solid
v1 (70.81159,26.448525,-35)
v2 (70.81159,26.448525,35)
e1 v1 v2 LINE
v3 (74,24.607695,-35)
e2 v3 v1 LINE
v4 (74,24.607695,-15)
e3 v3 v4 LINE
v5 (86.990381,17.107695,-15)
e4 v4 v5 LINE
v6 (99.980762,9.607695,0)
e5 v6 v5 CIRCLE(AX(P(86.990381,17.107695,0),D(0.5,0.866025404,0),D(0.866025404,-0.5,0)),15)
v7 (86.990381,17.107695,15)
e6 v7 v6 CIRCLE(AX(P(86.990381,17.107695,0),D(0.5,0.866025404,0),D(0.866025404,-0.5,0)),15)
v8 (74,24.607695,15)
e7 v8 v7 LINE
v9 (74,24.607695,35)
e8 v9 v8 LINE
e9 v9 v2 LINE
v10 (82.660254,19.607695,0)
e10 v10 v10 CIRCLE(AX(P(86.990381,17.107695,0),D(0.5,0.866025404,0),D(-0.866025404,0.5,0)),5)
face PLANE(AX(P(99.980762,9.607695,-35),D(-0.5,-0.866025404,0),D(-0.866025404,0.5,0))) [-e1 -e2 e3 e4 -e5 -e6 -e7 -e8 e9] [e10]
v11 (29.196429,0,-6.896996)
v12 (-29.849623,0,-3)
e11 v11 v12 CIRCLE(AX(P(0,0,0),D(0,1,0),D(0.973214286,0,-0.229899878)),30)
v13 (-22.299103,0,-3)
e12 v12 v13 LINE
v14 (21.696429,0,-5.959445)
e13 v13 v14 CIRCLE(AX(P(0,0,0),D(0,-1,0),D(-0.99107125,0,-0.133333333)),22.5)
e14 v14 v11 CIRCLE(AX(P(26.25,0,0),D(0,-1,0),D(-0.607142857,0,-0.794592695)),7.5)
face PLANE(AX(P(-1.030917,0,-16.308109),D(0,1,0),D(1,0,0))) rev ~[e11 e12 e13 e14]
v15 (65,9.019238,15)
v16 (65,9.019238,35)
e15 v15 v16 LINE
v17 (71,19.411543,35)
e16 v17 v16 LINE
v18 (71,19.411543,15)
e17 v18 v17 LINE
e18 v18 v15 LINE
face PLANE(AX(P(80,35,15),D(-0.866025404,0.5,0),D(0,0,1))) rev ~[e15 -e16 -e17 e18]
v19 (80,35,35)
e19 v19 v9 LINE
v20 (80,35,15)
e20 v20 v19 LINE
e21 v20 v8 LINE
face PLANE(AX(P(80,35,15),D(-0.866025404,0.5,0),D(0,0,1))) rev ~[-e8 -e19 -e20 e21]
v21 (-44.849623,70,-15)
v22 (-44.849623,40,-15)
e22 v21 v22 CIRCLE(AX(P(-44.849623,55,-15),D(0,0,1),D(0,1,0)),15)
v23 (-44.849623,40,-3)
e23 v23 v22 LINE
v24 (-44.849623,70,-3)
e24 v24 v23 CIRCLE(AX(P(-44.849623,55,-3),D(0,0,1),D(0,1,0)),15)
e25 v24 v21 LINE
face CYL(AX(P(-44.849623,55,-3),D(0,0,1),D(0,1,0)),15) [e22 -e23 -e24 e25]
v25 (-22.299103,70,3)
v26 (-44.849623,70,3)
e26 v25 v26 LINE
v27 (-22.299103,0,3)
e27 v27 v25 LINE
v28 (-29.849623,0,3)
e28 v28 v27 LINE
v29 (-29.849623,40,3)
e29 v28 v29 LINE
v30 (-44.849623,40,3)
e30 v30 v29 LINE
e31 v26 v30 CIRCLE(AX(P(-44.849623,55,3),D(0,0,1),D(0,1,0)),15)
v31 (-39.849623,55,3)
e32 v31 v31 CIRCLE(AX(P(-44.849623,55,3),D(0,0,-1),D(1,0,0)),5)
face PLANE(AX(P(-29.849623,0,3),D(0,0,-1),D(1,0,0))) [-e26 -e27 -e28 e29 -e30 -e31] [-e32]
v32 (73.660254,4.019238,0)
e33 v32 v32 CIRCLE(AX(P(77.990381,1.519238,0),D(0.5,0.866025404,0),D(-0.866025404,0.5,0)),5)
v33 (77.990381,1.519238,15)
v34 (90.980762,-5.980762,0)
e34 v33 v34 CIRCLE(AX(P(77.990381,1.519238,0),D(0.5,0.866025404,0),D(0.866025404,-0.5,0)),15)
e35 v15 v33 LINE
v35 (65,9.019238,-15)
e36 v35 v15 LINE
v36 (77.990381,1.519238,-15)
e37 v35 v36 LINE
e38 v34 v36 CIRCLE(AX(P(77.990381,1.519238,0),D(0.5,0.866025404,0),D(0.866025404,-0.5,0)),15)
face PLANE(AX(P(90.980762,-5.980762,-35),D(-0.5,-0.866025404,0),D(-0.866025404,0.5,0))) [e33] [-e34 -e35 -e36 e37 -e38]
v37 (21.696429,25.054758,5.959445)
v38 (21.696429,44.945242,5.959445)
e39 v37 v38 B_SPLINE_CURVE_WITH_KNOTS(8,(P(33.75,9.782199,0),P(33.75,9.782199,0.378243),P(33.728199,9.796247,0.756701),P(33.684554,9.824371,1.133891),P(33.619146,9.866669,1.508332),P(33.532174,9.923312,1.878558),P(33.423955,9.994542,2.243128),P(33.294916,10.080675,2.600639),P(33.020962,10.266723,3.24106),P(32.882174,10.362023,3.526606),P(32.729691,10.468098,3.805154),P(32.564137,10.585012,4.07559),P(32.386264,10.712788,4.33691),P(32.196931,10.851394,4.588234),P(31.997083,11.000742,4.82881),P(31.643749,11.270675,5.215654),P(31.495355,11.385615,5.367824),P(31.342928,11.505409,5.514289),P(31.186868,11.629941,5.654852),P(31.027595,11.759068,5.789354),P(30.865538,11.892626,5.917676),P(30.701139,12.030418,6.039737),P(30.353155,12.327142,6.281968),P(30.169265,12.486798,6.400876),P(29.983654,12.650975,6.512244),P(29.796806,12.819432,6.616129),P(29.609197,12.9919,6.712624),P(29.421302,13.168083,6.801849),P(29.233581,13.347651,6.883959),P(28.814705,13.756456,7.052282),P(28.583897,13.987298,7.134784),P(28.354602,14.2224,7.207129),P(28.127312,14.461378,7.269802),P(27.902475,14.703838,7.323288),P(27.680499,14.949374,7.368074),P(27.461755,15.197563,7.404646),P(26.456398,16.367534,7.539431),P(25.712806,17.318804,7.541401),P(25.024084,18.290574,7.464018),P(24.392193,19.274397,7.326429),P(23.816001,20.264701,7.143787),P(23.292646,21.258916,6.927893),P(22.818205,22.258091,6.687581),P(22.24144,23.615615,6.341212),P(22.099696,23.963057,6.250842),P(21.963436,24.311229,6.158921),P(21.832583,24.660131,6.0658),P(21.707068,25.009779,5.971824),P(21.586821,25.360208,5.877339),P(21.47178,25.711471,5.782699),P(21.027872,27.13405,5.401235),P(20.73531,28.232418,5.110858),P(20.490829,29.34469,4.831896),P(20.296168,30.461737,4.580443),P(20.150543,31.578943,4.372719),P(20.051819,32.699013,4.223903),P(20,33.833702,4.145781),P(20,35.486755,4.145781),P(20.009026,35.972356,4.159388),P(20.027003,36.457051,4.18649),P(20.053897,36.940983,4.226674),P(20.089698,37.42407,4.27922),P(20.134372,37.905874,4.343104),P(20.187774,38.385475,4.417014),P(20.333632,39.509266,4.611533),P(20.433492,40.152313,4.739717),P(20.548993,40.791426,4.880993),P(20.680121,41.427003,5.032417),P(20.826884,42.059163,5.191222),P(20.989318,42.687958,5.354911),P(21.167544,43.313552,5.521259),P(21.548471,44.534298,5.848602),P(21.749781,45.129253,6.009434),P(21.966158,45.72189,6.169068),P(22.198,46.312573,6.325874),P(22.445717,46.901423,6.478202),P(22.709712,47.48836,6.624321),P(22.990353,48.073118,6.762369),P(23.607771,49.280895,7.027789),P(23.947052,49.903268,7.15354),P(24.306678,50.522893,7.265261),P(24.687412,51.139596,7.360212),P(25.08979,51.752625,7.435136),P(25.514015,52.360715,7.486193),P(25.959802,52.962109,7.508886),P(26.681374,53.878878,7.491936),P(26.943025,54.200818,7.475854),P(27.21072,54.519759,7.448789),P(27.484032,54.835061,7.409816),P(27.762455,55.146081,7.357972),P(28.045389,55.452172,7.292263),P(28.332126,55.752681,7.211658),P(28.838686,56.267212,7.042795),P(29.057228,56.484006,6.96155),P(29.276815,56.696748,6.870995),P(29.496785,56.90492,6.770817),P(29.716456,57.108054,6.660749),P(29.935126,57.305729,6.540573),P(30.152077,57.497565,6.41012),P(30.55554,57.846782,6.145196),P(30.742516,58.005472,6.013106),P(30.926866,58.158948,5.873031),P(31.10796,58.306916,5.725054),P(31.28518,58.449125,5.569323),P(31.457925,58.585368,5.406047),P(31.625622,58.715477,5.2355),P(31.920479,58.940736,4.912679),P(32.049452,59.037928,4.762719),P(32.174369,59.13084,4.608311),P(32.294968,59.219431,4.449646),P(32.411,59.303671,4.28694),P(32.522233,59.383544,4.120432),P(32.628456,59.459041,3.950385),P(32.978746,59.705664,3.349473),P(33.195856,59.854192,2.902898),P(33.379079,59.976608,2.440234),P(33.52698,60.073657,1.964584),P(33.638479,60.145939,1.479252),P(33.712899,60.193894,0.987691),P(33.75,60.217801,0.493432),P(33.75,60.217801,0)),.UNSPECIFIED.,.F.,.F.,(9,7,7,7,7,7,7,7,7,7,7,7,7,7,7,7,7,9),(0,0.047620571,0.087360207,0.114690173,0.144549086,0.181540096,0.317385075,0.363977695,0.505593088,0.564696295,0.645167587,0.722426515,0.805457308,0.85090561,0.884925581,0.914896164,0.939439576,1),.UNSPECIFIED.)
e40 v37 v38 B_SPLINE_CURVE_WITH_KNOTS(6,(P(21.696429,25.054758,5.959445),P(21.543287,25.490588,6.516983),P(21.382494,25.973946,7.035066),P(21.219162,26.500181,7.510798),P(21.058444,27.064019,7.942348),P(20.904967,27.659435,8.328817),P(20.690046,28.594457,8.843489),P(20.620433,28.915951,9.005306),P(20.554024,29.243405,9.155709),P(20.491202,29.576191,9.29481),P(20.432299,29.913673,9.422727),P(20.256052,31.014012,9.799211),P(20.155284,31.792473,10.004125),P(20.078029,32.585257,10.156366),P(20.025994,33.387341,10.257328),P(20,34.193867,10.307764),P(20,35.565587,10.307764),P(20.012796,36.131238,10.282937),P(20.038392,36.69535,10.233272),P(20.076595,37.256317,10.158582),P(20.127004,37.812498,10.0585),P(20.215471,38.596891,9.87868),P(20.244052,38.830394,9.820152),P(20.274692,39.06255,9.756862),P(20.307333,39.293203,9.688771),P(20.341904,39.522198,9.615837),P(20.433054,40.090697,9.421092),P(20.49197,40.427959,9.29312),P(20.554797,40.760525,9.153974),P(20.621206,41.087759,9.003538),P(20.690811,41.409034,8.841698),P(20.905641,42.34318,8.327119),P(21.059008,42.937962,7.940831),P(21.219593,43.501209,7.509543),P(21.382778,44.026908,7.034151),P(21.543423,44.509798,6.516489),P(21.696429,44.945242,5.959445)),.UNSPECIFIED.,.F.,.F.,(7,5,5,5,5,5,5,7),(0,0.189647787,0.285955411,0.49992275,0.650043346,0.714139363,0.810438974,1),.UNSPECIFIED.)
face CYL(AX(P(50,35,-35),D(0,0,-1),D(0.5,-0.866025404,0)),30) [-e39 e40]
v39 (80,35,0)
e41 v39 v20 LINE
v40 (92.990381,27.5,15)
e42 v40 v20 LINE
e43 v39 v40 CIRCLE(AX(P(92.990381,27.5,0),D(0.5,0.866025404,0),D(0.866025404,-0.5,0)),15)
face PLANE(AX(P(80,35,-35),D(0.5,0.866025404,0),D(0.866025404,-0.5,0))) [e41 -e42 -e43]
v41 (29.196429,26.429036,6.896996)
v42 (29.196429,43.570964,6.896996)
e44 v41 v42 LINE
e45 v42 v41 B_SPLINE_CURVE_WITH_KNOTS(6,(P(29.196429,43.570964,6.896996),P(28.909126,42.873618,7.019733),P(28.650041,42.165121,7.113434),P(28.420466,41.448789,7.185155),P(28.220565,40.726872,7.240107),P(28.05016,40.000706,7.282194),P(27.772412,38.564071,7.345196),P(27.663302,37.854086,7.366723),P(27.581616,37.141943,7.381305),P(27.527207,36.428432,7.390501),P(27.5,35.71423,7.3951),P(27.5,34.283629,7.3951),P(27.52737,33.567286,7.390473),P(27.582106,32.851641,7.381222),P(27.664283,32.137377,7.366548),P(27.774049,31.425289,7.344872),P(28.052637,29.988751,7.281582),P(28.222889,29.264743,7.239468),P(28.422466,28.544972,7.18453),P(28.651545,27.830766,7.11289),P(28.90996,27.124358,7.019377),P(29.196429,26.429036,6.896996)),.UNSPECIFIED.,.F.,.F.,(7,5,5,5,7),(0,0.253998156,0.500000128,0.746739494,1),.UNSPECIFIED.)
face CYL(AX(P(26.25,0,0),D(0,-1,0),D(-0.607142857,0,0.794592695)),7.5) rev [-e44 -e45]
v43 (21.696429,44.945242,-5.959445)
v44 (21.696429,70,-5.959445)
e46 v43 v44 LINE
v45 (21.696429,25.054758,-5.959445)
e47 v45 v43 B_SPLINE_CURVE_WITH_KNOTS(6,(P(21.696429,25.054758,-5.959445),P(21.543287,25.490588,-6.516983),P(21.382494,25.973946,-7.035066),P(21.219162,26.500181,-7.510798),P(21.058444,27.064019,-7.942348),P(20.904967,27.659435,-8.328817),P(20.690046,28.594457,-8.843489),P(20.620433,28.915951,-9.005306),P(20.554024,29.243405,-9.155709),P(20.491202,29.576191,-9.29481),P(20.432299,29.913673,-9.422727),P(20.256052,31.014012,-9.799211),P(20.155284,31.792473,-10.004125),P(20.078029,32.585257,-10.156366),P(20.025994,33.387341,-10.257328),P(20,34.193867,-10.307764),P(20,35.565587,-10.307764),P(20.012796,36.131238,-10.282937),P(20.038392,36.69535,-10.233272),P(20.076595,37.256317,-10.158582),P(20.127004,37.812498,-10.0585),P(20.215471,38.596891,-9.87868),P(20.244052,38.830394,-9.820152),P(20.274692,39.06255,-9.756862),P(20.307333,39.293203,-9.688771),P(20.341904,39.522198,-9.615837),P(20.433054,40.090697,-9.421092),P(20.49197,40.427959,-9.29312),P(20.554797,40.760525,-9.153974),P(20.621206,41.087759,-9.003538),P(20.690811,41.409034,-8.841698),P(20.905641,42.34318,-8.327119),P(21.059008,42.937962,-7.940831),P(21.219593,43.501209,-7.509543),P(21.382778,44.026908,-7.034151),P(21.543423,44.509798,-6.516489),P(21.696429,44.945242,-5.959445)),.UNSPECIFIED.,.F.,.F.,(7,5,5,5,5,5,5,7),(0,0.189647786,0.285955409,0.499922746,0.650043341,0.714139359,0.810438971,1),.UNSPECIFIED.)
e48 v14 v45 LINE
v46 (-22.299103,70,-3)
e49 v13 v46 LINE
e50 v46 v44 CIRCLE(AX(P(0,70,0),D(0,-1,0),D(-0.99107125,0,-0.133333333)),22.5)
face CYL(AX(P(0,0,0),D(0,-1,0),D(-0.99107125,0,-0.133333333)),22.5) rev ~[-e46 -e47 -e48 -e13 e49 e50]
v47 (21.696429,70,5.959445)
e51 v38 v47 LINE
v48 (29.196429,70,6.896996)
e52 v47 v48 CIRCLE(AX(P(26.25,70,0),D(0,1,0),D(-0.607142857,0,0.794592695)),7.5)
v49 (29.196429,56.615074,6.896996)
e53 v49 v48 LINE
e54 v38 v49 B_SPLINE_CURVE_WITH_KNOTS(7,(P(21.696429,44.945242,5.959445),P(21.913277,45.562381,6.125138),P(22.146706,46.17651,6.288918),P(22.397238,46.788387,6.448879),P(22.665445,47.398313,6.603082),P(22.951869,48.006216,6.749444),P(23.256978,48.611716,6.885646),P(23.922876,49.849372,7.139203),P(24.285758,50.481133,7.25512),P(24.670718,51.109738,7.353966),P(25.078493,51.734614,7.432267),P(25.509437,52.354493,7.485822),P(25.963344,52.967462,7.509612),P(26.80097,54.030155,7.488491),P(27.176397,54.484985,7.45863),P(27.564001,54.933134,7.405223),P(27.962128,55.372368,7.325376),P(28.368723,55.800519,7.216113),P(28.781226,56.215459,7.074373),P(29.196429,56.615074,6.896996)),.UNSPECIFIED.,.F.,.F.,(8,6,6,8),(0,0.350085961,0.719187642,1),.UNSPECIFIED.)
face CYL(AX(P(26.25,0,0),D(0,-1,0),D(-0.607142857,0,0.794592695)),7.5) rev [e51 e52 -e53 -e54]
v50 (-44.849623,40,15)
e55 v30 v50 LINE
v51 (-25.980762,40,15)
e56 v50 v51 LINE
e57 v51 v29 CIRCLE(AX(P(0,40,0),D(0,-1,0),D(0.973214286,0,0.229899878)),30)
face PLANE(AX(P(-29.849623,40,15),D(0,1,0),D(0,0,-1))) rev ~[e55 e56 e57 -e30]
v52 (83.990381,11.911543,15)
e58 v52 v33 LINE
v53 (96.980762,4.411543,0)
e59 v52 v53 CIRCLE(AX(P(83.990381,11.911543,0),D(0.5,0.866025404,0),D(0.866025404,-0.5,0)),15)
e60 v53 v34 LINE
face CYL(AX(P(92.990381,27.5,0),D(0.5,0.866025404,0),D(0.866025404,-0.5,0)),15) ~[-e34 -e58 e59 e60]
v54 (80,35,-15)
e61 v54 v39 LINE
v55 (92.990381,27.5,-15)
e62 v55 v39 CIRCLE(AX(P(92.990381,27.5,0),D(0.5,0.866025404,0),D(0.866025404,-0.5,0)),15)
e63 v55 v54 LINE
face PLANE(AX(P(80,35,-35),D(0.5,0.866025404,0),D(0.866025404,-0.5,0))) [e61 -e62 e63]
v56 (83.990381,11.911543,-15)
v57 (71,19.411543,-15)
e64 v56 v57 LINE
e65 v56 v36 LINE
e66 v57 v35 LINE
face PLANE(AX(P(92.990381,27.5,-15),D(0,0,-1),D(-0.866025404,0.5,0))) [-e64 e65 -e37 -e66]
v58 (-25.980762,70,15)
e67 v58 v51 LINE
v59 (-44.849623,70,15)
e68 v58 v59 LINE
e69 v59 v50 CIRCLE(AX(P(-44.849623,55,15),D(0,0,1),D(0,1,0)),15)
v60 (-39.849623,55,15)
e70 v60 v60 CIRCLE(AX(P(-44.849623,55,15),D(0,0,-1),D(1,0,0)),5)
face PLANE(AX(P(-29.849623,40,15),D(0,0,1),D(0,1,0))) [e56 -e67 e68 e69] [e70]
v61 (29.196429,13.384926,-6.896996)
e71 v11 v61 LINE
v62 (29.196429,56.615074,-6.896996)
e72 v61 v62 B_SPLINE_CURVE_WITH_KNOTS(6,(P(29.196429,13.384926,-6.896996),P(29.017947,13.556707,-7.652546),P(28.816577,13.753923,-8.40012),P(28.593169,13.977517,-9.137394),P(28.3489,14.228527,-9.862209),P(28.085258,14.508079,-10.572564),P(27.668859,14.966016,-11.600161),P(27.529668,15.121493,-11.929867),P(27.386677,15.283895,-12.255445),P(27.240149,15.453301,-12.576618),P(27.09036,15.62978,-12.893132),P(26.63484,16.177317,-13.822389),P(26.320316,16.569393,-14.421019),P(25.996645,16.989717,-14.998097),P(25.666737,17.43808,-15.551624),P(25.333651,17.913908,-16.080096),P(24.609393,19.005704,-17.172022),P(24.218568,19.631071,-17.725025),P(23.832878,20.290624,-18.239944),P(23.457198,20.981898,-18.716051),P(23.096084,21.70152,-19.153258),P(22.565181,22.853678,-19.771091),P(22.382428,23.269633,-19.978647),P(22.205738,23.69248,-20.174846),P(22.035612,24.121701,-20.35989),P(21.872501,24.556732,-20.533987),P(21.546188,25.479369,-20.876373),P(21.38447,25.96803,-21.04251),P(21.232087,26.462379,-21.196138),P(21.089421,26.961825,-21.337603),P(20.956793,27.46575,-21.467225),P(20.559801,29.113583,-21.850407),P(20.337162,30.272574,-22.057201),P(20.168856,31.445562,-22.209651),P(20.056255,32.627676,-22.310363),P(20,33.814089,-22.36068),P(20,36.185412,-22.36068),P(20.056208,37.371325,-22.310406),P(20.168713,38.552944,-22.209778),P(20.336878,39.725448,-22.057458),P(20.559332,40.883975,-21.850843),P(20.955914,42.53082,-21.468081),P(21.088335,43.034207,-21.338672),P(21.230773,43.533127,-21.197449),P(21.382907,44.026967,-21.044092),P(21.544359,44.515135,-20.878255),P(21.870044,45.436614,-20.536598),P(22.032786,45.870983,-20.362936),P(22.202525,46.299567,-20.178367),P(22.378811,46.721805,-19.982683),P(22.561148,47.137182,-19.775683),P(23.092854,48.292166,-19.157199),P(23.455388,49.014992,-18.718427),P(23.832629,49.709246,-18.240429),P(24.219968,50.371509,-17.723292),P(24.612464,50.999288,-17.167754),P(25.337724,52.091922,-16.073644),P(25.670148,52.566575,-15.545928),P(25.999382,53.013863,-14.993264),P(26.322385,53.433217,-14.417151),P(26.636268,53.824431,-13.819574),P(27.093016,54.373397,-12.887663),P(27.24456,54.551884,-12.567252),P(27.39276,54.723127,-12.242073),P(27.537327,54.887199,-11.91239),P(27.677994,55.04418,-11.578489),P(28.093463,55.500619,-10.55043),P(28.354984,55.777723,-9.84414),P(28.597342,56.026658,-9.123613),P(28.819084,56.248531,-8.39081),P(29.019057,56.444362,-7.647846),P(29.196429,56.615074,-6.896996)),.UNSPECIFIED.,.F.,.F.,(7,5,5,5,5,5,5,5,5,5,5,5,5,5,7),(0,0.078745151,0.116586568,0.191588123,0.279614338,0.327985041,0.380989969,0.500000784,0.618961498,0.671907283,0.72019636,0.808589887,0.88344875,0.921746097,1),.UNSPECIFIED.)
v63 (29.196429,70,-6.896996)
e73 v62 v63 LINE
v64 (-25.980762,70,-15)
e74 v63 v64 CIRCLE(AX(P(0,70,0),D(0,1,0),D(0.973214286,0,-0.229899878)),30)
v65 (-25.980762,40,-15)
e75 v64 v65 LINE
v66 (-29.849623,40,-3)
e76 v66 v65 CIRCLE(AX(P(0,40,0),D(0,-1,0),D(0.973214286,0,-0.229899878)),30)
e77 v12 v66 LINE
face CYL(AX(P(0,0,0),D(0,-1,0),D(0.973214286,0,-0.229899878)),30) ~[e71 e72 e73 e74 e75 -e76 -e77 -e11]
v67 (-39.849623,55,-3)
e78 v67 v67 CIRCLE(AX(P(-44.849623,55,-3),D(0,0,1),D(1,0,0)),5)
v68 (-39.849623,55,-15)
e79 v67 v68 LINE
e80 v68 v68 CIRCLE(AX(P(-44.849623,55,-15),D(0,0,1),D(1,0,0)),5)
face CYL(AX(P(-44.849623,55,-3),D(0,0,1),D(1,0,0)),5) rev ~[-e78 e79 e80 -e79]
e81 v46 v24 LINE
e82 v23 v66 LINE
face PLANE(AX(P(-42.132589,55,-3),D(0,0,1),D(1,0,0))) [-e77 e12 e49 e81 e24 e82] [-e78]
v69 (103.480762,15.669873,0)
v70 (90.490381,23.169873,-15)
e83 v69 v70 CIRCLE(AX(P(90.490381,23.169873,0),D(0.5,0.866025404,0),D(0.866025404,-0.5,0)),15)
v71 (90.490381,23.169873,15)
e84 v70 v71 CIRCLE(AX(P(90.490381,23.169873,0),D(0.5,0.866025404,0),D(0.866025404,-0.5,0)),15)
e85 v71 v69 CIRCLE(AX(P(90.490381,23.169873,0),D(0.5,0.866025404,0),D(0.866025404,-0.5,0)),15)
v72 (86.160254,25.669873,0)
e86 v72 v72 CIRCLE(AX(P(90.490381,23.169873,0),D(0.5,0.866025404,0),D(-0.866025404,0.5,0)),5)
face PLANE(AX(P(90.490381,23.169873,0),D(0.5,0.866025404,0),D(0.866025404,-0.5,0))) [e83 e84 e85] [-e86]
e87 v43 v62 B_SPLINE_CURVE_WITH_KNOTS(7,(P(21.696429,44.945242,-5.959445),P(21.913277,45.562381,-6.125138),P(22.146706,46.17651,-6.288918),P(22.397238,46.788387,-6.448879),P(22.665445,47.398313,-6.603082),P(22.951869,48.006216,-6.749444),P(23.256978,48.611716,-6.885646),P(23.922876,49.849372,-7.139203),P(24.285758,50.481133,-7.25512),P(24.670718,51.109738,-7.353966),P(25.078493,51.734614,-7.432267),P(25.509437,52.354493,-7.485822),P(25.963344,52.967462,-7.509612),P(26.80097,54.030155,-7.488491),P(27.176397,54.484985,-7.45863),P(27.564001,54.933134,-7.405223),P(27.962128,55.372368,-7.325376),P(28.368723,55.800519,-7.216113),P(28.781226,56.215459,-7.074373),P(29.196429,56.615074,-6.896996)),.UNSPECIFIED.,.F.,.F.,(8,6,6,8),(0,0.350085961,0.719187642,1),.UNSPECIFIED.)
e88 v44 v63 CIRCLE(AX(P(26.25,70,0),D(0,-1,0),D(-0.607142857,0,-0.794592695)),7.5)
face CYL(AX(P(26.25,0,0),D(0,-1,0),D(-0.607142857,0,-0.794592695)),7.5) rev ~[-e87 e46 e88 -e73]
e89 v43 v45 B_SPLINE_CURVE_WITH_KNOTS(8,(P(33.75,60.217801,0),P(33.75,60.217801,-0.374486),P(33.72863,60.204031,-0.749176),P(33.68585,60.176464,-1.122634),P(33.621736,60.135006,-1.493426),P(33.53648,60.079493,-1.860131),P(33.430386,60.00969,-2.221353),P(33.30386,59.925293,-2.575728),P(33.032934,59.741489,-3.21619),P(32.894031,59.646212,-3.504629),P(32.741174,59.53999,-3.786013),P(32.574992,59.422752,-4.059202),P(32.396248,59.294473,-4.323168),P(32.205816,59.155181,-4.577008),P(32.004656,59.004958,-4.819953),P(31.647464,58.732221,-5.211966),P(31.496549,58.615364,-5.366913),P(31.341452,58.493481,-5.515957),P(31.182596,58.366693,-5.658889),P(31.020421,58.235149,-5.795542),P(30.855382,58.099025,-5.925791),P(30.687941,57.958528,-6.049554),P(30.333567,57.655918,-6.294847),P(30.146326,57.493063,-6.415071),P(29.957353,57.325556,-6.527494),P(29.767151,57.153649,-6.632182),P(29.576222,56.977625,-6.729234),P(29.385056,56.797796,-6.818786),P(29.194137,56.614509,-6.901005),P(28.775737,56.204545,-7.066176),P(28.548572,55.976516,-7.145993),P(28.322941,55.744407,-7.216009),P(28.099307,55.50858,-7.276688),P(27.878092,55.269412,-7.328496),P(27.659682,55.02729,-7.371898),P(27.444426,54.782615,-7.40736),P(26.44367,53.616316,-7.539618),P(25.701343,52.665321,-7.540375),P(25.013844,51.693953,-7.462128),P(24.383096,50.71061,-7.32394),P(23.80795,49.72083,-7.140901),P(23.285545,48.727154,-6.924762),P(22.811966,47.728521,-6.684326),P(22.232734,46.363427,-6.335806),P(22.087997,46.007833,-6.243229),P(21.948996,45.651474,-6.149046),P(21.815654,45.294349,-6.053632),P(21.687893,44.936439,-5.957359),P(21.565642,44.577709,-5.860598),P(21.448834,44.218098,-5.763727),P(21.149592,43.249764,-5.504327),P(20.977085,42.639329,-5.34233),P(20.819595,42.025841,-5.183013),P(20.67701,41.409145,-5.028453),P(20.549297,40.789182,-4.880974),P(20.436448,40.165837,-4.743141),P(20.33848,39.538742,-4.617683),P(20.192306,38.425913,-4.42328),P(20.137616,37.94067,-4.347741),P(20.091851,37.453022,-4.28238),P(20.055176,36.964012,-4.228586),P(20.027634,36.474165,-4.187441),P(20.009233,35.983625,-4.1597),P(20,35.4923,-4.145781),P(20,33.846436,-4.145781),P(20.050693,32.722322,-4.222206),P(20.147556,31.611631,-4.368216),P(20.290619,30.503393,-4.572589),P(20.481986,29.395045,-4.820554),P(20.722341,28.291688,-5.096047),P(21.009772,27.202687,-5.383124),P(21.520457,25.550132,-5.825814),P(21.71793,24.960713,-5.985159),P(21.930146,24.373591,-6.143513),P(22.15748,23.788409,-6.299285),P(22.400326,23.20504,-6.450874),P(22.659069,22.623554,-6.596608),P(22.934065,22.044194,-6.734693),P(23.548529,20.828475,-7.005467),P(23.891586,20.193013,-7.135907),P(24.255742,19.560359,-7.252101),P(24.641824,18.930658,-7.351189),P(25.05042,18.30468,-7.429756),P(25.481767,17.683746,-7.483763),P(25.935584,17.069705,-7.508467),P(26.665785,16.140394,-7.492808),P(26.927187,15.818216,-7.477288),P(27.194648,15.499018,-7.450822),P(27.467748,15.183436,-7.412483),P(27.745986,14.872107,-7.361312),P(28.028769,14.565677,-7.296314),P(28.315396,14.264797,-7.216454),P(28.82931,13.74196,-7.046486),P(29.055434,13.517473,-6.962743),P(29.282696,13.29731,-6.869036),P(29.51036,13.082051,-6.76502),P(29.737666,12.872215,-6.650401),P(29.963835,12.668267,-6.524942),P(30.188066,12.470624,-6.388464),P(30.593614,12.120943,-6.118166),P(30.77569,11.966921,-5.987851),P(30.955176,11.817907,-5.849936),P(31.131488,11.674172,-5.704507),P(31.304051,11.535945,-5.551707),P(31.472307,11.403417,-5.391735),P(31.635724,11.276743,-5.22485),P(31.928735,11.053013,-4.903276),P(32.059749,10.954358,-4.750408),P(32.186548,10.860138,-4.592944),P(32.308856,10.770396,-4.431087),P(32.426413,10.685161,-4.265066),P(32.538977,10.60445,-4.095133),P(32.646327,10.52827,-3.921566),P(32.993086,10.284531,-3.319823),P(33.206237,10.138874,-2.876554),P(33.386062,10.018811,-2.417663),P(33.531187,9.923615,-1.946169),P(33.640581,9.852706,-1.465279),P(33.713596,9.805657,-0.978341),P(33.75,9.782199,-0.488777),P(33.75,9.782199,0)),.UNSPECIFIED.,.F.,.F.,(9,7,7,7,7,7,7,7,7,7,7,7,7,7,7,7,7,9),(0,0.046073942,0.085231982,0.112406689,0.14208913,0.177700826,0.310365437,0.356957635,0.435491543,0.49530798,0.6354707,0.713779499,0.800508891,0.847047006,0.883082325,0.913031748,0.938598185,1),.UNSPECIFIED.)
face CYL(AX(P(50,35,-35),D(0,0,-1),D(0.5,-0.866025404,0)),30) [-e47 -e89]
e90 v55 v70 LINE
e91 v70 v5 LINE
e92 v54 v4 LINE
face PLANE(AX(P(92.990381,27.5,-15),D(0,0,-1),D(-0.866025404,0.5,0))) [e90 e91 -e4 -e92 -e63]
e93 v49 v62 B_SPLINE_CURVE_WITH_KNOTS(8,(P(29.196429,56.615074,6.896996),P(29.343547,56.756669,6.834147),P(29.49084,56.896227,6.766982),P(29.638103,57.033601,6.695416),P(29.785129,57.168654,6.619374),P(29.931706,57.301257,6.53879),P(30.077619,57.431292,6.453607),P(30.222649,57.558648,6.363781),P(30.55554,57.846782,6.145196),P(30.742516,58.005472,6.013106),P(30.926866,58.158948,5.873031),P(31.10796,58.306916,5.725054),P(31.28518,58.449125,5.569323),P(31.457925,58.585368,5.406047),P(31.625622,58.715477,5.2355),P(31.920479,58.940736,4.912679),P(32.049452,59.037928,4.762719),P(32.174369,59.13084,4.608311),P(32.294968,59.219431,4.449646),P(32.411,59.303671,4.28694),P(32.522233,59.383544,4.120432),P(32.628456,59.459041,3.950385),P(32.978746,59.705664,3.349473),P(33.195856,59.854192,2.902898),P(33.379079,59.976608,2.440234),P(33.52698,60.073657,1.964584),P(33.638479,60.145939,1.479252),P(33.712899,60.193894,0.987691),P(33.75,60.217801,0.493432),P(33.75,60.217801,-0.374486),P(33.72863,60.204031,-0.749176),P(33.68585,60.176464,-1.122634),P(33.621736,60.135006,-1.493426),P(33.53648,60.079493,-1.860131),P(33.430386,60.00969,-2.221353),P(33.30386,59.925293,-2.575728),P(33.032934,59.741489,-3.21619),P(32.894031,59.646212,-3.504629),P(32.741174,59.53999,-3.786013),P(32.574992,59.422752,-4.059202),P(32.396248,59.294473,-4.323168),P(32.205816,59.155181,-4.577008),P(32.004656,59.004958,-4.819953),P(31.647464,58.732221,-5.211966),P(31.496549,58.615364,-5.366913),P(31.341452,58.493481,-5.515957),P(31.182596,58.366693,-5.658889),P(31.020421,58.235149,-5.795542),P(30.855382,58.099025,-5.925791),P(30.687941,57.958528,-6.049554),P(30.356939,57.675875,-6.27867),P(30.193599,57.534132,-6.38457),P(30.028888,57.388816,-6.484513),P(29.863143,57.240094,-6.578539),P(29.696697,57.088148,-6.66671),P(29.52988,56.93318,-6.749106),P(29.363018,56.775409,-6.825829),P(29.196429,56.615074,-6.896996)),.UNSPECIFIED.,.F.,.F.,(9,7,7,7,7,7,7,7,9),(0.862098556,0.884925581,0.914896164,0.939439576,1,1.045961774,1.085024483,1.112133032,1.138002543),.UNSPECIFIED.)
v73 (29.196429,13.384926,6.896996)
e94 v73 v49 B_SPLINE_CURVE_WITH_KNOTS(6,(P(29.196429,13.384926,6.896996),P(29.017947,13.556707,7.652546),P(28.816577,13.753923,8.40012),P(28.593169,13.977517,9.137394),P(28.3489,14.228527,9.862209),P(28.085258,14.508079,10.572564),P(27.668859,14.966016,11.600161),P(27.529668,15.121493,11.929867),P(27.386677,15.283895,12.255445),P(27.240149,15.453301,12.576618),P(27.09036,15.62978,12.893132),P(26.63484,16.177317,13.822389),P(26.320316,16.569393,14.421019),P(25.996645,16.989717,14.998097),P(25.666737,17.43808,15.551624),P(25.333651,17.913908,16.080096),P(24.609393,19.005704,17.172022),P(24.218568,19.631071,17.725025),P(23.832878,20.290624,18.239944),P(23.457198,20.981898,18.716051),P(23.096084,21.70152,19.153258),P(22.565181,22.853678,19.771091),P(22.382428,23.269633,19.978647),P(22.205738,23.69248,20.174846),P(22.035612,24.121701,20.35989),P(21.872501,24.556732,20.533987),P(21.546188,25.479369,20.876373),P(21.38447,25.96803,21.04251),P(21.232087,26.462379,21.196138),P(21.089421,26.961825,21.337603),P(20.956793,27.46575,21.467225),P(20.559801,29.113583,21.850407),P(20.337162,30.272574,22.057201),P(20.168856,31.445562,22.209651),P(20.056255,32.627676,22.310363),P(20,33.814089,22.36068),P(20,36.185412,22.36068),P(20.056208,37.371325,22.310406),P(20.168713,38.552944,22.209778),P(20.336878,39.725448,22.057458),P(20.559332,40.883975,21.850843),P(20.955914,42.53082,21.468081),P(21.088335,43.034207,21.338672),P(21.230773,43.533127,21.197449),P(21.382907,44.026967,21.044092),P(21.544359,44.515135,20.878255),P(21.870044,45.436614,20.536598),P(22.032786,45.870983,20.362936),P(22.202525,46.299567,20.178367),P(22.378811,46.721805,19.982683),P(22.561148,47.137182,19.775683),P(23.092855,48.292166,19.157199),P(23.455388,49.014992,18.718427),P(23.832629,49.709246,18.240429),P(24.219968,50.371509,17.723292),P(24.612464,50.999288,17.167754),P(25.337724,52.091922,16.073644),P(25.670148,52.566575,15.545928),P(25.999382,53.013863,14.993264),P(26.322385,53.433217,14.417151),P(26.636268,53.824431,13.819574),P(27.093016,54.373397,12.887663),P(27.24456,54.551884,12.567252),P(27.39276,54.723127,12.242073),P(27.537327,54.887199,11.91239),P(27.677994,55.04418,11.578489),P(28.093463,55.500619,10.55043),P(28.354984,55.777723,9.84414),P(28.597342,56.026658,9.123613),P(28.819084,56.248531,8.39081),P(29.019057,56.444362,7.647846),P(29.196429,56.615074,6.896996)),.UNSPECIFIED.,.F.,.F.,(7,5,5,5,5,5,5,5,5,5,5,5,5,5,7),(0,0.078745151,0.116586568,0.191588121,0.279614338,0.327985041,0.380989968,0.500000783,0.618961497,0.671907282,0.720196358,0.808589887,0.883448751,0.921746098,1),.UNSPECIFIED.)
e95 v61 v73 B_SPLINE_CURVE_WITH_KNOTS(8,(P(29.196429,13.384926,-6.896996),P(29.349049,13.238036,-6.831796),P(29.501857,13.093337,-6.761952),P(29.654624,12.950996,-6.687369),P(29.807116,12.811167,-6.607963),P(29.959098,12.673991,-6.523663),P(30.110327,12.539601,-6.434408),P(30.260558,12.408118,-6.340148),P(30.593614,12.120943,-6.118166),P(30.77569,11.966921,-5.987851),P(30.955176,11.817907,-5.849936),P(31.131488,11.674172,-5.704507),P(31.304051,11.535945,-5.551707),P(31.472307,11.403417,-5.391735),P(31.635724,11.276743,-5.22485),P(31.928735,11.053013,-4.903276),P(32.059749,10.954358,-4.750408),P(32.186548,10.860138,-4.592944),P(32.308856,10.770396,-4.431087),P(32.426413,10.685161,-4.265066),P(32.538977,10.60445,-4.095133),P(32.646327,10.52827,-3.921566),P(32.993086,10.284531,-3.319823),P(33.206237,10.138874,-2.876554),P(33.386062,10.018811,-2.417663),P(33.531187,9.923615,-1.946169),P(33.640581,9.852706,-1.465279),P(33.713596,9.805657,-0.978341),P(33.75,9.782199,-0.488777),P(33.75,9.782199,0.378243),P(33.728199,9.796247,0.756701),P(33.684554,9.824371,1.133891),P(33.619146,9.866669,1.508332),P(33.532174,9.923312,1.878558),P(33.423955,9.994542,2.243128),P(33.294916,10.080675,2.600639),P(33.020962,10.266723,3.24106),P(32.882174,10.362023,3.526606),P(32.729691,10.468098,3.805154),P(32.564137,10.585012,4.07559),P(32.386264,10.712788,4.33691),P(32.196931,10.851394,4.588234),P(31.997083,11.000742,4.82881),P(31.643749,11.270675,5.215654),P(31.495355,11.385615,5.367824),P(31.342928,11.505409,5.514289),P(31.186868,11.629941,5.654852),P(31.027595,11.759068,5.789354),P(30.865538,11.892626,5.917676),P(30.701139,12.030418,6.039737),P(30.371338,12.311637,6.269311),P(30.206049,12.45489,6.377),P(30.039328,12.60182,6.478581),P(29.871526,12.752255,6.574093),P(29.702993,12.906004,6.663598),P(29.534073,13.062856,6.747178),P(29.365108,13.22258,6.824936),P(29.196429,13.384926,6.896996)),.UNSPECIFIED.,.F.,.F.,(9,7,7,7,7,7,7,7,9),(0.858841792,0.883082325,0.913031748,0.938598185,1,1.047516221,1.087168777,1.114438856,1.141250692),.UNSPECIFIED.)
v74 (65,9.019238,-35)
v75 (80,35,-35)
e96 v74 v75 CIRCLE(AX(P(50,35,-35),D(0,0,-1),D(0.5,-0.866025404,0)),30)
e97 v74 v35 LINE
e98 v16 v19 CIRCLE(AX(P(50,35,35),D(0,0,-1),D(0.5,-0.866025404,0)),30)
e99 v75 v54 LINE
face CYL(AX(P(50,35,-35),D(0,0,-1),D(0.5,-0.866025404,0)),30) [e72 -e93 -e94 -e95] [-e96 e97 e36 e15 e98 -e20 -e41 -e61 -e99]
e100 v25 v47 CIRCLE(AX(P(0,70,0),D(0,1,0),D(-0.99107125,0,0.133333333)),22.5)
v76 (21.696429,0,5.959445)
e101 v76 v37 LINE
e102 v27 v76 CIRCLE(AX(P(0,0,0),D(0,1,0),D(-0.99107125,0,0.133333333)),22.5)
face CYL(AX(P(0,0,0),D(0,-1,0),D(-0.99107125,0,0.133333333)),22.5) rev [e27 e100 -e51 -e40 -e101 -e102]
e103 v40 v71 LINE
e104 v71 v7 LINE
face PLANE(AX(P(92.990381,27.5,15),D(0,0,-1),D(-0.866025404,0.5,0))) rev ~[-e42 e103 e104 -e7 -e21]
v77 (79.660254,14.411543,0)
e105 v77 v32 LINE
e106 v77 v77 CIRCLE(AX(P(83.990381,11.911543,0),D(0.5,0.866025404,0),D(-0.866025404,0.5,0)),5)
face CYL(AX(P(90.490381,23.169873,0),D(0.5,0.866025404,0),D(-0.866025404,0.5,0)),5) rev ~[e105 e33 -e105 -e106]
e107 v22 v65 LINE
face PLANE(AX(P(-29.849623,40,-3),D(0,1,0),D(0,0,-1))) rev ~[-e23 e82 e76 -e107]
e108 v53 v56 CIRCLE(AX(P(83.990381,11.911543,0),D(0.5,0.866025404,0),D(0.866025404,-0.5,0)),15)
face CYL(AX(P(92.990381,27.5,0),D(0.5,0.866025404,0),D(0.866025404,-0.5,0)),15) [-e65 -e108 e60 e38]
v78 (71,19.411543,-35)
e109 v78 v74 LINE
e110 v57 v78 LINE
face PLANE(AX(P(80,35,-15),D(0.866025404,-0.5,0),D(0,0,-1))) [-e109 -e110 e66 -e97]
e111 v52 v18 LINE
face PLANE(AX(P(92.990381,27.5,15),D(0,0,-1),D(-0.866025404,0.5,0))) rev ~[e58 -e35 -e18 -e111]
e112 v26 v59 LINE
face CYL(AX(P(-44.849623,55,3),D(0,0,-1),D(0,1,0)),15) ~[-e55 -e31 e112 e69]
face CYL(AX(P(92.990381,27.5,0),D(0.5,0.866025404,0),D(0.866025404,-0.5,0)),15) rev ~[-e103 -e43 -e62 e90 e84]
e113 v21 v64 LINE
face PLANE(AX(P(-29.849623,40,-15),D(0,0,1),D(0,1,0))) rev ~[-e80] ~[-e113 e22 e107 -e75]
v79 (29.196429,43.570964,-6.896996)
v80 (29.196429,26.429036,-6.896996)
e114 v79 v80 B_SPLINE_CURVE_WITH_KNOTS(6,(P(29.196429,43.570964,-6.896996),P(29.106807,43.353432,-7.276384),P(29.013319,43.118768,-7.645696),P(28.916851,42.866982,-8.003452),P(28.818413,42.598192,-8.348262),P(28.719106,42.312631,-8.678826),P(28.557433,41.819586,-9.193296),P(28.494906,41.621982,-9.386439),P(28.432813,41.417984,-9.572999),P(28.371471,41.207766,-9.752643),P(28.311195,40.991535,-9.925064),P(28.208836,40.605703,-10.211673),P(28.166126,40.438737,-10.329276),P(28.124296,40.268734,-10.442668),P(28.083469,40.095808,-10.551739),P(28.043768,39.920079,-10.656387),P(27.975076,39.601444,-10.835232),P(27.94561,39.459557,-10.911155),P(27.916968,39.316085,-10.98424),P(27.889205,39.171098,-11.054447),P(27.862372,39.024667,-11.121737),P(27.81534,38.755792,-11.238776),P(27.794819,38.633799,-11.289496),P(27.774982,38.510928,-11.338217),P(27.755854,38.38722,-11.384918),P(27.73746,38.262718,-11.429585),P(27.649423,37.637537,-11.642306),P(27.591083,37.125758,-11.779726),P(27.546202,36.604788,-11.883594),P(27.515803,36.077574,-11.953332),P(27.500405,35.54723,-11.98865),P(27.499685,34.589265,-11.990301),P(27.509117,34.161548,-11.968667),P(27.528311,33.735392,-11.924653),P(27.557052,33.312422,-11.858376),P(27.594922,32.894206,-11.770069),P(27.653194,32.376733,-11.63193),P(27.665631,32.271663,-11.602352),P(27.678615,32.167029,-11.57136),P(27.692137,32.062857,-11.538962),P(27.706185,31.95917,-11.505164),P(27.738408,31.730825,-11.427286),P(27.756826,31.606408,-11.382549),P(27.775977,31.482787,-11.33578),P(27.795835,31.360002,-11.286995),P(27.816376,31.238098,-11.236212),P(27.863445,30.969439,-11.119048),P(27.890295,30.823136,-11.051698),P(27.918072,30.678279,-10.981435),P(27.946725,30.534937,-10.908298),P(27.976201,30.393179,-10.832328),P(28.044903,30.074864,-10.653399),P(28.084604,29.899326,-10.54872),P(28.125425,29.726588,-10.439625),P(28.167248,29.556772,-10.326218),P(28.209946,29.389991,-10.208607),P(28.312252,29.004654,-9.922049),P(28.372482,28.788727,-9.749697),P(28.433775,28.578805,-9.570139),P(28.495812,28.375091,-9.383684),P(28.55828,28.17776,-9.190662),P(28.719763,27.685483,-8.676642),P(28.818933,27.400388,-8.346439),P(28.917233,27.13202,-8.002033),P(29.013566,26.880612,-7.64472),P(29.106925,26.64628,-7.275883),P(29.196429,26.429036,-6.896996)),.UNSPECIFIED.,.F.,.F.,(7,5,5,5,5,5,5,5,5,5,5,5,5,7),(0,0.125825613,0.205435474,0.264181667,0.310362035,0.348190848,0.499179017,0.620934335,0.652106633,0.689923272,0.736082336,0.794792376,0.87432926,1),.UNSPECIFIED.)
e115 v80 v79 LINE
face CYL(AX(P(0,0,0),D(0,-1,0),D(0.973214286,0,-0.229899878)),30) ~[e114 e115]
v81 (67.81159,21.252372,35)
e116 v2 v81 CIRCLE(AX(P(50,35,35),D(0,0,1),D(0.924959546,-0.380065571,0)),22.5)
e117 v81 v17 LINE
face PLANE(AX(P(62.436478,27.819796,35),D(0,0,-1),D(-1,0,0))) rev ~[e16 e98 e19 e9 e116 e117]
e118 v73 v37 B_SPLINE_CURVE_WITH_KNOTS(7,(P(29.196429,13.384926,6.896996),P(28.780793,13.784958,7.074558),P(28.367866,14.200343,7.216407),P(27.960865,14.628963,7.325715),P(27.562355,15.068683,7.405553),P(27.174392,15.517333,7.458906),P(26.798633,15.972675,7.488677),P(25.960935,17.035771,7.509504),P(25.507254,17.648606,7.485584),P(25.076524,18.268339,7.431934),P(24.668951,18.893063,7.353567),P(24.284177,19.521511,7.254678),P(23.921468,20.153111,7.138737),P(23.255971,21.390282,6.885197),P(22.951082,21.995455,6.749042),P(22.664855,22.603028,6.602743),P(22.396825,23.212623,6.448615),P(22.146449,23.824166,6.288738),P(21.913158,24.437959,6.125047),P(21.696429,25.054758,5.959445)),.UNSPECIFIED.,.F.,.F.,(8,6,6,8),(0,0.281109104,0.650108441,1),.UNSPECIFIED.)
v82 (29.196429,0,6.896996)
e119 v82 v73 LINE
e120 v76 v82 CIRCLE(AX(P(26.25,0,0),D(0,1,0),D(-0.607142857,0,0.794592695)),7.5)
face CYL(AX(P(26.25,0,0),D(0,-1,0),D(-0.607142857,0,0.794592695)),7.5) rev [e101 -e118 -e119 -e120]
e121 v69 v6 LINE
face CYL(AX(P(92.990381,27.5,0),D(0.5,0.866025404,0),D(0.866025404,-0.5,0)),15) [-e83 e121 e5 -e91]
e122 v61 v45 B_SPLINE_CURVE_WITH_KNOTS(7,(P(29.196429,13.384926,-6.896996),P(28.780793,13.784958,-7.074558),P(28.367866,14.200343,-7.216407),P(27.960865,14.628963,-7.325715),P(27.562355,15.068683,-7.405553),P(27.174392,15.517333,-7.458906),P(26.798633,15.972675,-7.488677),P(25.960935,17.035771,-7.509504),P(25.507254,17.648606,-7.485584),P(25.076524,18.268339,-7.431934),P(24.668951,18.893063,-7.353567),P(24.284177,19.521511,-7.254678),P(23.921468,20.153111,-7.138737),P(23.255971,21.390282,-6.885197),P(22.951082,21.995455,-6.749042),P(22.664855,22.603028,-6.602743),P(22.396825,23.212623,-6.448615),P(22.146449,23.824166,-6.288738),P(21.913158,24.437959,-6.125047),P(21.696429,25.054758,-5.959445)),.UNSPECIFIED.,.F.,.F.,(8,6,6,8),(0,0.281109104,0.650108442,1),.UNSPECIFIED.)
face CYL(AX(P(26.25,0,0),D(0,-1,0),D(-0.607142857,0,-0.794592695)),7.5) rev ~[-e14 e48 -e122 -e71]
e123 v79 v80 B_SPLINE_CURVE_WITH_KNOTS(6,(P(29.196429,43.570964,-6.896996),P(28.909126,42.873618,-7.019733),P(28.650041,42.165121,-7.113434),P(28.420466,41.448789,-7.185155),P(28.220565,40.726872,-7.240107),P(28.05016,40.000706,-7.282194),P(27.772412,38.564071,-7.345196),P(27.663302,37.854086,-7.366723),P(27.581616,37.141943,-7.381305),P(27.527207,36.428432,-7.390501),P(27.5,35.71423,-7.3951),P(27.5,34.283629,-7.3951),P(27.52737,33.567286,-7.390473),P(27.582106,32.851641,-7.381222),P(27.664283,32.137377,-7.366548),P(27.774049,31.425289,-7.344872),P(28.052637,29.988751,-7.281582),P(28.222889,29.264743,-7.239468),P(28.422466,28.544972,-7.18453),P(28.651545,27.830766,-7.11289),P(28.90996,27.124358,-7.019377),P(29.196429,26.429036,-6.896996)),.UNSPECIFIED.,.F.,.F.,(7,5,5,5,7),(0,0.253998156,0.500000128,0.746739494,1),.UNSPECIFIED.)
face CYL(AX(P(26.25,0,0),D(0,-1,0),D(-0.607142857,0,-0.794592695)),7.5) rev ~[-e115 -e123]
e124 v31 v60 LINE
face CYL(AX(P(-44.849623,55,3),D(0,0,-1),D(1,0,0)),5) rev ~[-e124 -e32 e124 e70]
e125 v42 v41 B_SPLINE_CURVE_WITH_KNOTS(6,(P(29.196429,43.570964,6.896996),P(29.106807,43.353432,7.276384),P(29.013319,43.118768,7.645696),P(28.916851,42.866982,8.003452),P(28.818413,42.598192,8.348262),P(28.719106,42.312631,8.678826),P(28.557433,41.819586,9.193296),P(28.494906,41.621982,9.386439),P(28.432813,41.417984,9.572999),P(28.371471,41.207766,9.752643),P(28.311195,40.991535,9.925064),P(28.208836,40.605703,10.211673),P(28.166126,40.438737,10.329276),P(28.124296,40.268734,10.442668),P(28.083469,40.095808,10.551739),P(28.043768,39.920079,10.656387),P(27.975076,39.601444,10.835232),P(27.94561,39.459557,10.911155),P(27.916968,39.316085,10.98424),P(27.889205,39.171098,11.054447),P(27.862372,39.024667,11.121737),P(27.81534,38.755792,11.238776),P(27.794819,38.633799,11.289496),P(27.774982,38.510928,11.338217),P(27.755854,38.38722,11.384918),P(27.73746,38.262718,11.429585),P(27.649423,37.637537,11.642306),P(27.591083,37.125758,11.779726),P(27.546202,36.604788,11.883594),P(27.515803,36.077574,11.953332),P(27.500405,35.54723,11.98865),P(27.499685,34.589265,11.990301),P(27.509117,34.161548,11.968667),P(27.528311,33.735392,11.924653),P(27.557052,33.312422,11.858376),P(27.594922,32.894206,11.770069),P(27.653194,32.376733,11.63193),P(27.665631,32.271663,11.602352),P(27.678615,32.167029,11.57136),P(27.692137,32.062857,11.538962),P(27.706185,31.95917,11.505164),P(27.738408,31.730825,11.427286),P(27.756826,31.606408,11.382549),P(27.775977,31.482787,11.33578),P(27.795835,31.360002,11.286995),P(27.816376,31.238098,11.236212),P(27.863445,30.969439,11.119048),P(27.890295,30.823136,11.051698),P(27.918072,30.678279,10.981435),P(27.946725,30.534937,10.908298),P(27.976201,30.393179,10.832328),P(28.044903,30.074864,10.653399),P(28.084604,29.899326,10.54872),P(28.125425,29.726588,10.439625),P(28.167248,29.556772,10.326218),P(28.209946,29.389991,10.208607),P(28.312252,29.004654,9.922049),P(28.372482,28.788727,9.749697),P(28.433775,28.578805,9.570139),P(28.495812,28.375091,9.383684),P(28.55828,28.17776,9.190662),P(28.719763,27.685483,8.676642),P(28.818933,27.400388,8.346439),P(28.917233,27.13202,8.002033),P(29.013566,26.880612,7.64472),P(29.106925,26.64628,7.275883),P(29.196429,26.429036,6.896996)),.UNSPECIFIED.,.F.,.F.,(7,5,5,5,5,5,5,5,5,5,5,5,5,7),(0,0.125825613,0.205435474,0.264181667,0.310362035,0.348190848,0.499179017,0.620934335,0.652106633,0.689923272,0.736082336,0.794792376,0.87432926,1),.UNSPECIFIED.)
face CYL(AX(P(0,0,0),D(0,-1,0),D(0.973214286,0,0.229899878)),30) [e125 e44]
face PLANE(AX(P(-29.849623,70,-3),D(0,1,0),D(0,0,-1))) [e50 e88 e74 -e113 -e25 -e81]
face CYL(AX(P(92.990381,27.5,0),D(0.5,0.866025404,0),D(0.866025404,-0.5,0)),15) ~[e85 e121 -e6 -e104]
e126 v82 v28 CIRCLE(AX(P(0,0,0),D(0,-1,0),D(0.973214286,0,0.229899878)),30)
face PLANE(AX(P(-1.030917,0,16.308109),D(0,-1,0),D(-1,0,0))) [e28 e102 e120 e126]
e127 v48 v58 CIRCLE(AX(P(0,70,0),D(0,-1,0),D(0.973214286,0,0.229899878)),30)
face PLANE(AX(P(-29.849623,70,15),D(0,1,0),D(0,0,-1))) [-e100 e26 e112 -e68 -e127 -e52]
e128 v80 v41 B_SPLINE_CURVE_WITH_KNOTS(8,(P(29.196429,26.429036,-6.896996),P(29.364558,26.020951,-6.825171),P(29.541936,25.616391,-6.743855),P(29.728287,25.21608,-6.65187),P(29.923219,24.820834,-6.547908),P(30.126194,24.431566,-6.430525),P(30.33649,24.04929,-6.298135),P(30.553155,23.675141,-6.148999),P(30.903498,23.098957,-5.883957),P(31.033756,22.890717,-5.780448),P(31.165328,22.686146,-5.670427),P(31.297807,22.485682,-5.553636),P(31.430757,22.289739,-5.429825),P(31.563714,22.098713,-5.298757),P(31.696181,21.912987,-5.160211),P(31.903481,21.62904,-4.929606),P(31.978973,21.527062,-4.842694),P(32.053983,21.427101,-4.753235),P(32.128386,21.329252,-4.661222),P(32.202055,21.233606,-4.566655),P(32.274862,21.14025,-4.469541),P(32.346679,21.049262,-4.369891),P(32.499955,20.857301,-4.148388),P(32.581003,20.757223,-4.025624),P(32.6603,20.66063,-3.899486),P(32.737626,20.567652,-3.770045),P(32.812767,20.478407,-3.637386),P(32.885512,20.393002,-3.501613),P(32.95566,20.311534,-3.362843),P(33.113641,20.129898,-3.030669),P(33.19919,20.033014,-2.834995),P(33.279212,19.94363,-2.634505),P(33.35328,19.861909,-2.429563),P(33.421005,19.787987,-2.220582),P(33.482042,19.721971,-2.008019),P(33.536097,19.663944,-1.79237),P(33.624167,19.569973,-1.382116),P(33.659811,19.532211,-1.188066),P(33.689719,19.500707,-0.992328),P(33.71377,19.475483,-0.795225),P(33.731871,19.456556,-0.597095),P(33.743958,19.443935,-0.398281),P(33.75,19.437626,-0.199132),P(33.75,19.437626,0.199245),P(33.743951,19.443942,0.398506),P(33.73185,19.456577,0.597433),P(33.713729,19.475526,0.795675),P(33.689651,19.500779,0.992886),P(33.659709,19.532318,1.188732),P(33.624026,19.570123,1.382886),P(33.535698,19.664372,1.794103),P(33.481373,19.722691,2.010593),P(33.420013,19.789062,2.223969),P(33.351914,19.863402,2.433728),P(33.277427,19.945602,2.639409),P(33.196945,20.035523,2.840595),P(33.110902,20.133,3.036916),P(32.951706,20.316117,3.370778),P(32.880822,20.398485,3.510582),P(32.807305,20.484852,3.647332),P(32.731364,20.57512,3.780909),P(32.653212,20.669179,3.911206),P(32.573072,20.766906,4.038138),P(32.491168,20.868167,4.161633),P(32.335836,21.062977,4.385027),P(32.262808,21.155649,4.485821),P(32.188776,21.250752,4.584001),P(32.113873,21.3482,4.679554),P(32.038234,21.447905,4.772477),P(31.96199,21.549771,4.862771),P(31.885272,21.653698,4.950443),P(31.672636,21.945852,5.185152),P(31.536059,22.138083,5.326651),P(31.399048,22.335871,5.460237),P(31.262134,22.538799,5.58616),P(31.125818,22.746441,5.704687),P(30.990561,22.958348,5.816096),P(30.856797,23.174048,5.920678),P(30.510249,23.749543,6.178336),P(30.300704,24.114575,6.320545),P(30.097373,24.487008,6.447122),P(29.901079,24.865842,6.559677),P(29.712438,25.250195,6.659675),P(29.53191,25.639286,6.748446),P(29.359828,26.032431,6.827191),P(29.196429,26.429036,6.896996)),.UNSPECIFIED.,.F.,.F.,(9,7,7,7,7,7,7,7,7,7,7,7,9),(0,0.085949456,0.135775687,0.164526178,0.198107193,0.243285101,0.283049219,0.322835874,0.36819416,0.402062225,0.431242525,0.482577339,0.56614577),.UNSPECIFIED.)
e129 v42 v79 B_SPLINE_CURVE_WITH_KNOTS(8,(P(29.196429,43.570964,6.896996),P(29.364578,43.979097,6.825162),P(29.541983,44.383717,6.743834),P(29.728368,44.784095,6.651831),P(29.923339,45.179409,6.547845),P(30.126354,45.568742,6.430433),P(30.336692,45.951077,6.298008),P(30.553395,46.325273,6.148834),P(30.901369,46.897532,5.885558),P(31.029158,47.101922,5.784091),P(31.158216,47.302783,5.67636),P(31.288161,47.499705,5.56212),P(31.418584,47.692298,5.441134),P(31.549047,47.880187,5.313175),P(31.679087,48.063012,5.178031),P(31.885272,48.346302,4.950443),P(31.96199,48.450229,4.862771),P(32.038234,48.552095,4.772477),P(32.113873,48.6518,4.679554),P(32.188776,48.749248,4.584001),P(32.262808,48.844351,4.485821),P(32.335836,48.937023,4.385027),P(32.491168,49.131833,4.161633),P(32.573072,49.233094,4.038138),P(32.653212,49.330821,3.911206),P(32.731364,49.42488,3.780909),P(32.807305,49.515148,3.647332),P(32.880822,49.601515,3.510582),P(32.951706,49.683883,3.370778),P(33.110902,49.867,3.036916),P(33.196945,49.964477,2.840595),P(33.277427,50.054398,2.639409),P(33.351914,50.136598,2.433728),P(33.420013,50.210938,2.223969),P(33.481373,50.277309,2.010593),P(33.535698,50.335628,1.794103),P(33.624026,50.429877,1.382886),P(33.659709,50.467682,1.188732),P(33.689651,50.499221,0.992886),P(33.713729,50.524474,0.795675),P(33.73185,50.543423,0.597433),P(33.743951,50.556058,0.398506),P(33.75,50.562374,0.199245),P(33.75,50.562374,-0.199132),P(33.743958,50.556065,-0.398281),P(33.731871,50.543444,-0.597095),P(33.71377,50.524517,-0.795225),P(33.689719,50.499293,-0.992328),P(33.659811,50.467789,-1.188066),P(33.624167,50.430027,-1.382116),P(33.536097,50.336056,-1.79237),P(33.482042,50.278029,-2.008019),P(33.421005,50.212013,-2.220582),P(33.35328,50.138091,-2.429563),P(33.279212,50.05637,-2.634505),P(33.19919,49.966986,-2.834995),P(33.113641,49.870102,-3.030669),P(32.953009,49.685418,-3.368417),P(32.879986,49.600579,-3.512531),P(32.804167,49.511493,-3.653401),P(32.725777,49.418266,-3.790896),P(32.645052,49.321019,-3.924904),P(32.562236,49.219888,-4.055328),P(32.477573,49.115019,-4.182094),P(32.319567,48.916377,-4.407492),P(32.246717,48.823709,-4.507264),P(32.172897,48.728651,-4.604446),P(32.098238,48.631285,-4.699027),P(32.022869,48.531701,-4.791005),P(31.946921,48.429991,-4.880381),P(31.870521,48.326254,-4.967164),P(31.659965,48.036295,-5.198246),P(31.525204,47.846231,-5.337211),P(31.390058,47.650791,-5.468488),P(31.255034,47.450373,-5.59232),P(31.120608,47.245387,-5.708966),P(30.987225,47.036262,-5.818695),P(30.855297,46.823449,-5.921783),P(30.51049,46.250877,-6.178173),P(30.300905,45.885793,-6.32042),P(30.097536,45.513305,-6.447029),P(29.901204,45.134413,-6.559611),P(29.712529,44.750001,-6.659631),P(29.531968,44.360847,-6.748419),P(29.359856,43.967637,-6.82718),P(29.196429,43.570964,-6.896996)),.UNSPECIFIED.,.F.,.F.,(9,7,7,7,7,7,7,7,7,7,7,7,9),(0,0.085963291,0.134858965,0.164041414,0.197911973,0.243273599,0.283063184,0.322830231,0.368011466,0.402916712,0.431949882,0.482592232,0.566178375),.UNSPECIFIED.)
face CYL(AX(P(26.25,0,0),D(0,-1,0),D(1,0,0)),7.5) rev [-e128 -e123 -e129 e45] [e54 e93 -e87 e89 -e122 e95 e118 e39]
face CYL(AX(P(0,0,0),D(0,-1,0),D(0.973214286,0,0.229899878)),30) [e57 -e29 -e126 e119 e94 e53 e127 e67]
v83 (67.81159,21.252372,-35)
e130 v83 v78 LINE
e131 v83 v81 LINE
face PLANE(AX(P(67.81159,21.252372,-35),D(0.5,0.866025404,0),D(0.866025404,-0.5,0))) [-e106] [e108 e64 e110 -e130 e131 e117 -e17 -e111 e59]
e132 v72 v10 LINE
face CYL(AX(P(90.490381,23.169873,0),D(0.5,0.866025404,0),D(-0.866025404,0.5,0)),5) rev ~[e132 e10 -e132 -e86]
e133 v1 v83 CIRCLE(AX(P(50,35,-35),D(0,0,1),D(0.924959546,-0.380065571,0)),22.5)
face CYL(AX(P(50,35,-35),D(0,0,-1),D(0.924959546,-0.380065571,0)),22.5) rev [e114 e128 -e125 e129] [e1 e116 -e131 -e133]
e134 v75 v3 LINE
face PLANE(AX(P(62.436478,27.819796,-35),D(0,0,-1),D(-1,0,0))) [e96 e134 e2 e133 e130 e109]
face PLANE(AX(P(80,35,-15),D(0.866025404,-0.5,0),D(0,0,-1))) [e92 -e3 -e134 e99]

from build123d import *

# Parameters (mm, degrees)
BOSS_EXTRUDE1_DEPTH      = 70
BOSS_EXTRUDE1_2_DEPTH    = 70
SKETCH3_R                = 5
BOSS_EXTRUDE3_DEPTH      = 12
SKETCH4_R                = 5
BOSS_EXTRUDE4_DEPTH      = 12
BOSS_EXTRUDE5_REACH      = 98.366
SKETCH5_W                = 12
SKETCH5_H                = 30
BOSS_EXTRUDE6_REACH      = 98.366
SKETCH6_W                = 12
SKETCH6_H                = 30
BOSS_EXTRUDE7_DEPTH      = 35
BOSS_EXTRUDE7_DEPTH_BACK = 35
SKETCH8_R                = 7.5
CUT_EXTRUDE1_DEPTH       = 132.745671501
CUT_EXTRUDE4_DEPTH       = 122.337535907
CUT_EXTRUDE5_DEPTH       = 122.337535907
SKETCH12_R               = 15
CUT_EXTRUDE6_DEPTH       = 5
SKETCH13_R               = 5
CUT_EXTRUDE7_DEPTH       = 118.019851709


with BuildPart() as part:
    # Sketch2 → Boss-Extrude1 (new body)
    with BuildSketch(Plane(origin=(0, 0, 0), x_dir=(1, 0, 0), z_dir=(0, 1, 0))):
        with BuildLine():
            Line((-29.849623113, 3), (-22.299103121, 3))
            ThreePointArc((-22.299103121, 3), (-1.510093754, 22.449267624), (21.696428571, 5.959445213))
            ThreePointArc((21.696428571, 5.959445213), (25.319689527, 7.44207783), (29.196428571, 6.896996352))
            ThreePointArc((29.196428571, 6.896996352), (-1.975679862, 29.934874128), (-29.849623113, 3))
        make_face()
    extrude(amount=BOSS_EXTRUDE1_DEPTH)

    # Sketch6 → Boss-Extrude6 (add, up to next)
    with BuildSketch(Plane(origin=(-29.849623113, 0, 0), x_dir=(0, 0, -1), z_dir=(1, 0, 0)), mode=Mode.PRIVATE) as boss_extrude6_sk1:
        with Locations((9, 55)):
            Rectangle(SKETCH6_W, SKETCH6_H)
    boss_extrude6_tool1 = extrude(boss_extrude6_sk1.sketch, amount=BOSS_EXTRUDE6_REACH, mode=Mode.PRIVATE) - part.part


with BuildPart() as body_2:
    # Sketch2 → Boss-Extrude1 2 (new body)
    with BuildSketch(Plane(origin=(0, 0, 0), x_dir=(1, 0, 0), z_dir=(0, 1, 0))):
        with BuildLine():
            Line((-29.849623113, -3), (-22.299103121, -3))
            ThreePointArc((-22.299103121, -3), (-1.510093754, -22.449267624), (21.696428571, -5.959445213))
            ThreePointArc((21.696428571, -5.959445213), (25.319689527, -7.44207783), (29.196428571, -6.896996352))
            ThreePointArc((29.196428571, -6.896996352), (-1.975679862, -29.934874128), (-29.849623113, -3))
        make_face()
    extrude(amount=BOSS_EXTRUDE1_2_DEPTH)

    # Sketch5 → Boss-Extrude5 (add, up to next)
    with BuildSketch(Plane(origin=(-29.849623113, 0, 0), x_dir=(0, 0, -1), z_dir=(1, 0, 0)), mode=Mode.PRIVATE) as boss_extrude5_sk1:
        with Locations((-9, 55)):
            Rectangle(SKETCH5_W, SKETCH5_H)
    boss_extrude5_tool1 = extrude(boss_extrude5_sk1.sketch, amount=BOSS_EXTRUDE5_REACH, mode=Mode.PRIVATE) - body_2.part


with BuildPart() as body_3:
    # Sketch3 → Boss-Extrude3 (new body)
    with BuildSketch(Plane.XY.offset(-3)):
        with BuildLine():
            Line((-29.849623113, 70), (-44.849623113, 70))
            ThreePointArc((-44.849623113, 70), (-59.849623113, 55), (-44.849623113, 40))
            Line((-44.849623113, 40), (-29.849623113, 40))
            Line((-29.849623113, 40), (-29.849623113, 70))
        make_face()
        with Locations((-44.849623113, 55)):
            Circle(SKETCH3_R, mode=Mode.SUBTRACT)
    extrude(amount=-BOSS_EXTRUDE3_DEPTH)


with BuildPart() as body_4:
    # Sketch4 → Boss-Extrude4 (new body)
    with BuildSketch(Plane(origin=(0, 0, 3), x_dir=(-1, 0, 0), z_dir=(0, 0, -1))):
        with BuildLine():
            Line((29.849623113, 40), (29.849623113, 70))
            Line((29.849623113, 70), (44.849623113, 70))
            ThreePointArc((44.849623113, 70), (59.849623113, 55), (44.849623113, 40))
            Line((44.849623113, 40), (29.849623113, 40))
        make_face()
        with Locations(Location((44.849623113, 55, 0), (0, 0, 180))):
            Circle(SKETCH4_R, mode=Mode.SUBTRACT)
    extrude(amount=-BOSS_EXTRUDE4_DEPTH)


with BuildPart() as body_2_1:
    add(body_2.part)

    add(body_4.part)  # Boss-Extrude5 merges body 4
    add(boss_extrude5_tool1.solids().sort_by_distance((-29.849623, 55, 9))[0])


with BuildPart() as part_1:
    add(part.part)

    add(body_3.part)  # Boss-Extrude6 merges body 3
    add(boss_extrude6_tool1.solids().sort_by_distance((-29.849623, 55, -9))[0])


    add(body_2_1.part)  # Boss-Extrude7 merges body 2
    # Sketch7 → Boss-Extrude7 (add, two sides: drawn at the far end of the back side and taken through both)
    with BuildSketch(Plane.XY.offset(-BOSS_EXTRUDE7_DEPTH_BACK)):
        with BuildLine():
            Line((99.980762114, 9.607695155), (70.811589784, 26.448524651))
            ThreePointArc((70.811589784, 26.448524651), (30.514428415, 46.25), (67.811589784, 21.252372228))
            Line((67.811589784, 21.252372228), (96.980762114, 4.411542732))
            Line((96.980762114, 4.411542732), (90.980762114, -5.980762114))
            Line((90.980762114, -5.980762114), (65, 9.019237886))
            ThreePointArc((65, 9.019237886), (24.019237886, 50), (80, 35))
            Line((80, 35), (105.980762114, 20))
            Line((105.980762114, 20), (99.980762114, 9.607695155))
        make_face()
    extrude(amount=BOSS_EXTRUDE7_DEPTH + BOSS_EXTRUDE7_DEPTH_BACK)

    # Sketch8 → Cut-Extrude1 (cut, through all)
    with BuildSketch(Plane(origin=(0, 0, 0), x_dir=(1, 0, 0), z_dir=(0, 1, 0))):
        with Locations((26.25, 0)):
            Circle(SKETCH8_R)
    extrude(amount=CUT_EXTRUDE1_DEPTH, mode=Mode.SUBTRACT)

    # Sketch10 → Cut-Extrude4 (cut, through all)
    with BuildSketch(Plane(origin=(35.155444566, 60.891016151, 0), x_dir=(0.8660254037844384, -0.5000000000000007, 0), z_dir=(0.5000000000000006, 0.8660254037844383, 0))):
        with BuildLine():
            Line((66.782032303, 15), (51.782032303, 15))
            Line((51.782032303, 15), (51.782032303, 35))
            Line((51.782032303, 35), (81.782032303, 35))
            Line((81.782032303, 35), (81.782032303, 0))
            ThreePointArc((81.782032303, 0), (77.388634021, 10.606601718), (66.782032303, 15))
        make_face()
    extrude(amount=-CUT_EXTRUDE4_DEPTH, mode=Mode.SUBTRACT)

    # Sketch11 → Cut-Extrude5 (cut, through all)
    with BuildSketch(Plane(origin=(35.155444566, 60.891016151, 0), x_dir=(0.8660254037844384, -0.5000000000000007, 0), z_dir=(0.5000000000000006, 0.8660254037844383, 0))):
        with BuildLine():
            Line((66.782032303, -15), (51.782032303, -15))
            Line((51.782032303, -15), (51.782032303, -35))
            Line((51.782032303, -35), (81.782032303, -35))
            Line((81.782032303, -35), (81.782032303, 0))
            ThreePointArc((81.782032303, 0), (77.388634021, -10.606601718), (66.782032303, -15))
        make_face()
    extrude(amount=-CUT_EXTRUDE5_DEPTH, mode=Mode.SUBTRACT)

    # Sketch12 → Cut-Extrude6 (cut)
    with BuildSketch(Plane(origin=(35.155444566, 60.891016151, 0), x_dir=(0.8660254037844384, -0.5000000000000007, 0), z_dir=(0.5000000000000006, 0.8660254037844383, 0))):
        with Locations((66.782032303, 0)):
            Circle(SKETCH12_R)
    extrude(amount=-CUT_EXTRUDE6_DEPTH, mode=Mode.SUBTRACT)

    # Sketch13 → Cut-Extrude7 (cut, through all)
    with BuildSketch(Plane(origin=(32.655444566, 56.560889132, 0), x_dir=(0.8660254037844383, -0.5000000000000008, 0), z_dir=(0.5000000000000007, 0.8660254037844382, 0))):
        with Locations(Location((66.782032303, 0, 0), (0, 0, 180))):
            Circle(SKETCH13_R)
    extrude(amount=-CUT_EXTRUDE7_DEPTH, mode=Mode.SUBTRACT)


solid = part_1.part
